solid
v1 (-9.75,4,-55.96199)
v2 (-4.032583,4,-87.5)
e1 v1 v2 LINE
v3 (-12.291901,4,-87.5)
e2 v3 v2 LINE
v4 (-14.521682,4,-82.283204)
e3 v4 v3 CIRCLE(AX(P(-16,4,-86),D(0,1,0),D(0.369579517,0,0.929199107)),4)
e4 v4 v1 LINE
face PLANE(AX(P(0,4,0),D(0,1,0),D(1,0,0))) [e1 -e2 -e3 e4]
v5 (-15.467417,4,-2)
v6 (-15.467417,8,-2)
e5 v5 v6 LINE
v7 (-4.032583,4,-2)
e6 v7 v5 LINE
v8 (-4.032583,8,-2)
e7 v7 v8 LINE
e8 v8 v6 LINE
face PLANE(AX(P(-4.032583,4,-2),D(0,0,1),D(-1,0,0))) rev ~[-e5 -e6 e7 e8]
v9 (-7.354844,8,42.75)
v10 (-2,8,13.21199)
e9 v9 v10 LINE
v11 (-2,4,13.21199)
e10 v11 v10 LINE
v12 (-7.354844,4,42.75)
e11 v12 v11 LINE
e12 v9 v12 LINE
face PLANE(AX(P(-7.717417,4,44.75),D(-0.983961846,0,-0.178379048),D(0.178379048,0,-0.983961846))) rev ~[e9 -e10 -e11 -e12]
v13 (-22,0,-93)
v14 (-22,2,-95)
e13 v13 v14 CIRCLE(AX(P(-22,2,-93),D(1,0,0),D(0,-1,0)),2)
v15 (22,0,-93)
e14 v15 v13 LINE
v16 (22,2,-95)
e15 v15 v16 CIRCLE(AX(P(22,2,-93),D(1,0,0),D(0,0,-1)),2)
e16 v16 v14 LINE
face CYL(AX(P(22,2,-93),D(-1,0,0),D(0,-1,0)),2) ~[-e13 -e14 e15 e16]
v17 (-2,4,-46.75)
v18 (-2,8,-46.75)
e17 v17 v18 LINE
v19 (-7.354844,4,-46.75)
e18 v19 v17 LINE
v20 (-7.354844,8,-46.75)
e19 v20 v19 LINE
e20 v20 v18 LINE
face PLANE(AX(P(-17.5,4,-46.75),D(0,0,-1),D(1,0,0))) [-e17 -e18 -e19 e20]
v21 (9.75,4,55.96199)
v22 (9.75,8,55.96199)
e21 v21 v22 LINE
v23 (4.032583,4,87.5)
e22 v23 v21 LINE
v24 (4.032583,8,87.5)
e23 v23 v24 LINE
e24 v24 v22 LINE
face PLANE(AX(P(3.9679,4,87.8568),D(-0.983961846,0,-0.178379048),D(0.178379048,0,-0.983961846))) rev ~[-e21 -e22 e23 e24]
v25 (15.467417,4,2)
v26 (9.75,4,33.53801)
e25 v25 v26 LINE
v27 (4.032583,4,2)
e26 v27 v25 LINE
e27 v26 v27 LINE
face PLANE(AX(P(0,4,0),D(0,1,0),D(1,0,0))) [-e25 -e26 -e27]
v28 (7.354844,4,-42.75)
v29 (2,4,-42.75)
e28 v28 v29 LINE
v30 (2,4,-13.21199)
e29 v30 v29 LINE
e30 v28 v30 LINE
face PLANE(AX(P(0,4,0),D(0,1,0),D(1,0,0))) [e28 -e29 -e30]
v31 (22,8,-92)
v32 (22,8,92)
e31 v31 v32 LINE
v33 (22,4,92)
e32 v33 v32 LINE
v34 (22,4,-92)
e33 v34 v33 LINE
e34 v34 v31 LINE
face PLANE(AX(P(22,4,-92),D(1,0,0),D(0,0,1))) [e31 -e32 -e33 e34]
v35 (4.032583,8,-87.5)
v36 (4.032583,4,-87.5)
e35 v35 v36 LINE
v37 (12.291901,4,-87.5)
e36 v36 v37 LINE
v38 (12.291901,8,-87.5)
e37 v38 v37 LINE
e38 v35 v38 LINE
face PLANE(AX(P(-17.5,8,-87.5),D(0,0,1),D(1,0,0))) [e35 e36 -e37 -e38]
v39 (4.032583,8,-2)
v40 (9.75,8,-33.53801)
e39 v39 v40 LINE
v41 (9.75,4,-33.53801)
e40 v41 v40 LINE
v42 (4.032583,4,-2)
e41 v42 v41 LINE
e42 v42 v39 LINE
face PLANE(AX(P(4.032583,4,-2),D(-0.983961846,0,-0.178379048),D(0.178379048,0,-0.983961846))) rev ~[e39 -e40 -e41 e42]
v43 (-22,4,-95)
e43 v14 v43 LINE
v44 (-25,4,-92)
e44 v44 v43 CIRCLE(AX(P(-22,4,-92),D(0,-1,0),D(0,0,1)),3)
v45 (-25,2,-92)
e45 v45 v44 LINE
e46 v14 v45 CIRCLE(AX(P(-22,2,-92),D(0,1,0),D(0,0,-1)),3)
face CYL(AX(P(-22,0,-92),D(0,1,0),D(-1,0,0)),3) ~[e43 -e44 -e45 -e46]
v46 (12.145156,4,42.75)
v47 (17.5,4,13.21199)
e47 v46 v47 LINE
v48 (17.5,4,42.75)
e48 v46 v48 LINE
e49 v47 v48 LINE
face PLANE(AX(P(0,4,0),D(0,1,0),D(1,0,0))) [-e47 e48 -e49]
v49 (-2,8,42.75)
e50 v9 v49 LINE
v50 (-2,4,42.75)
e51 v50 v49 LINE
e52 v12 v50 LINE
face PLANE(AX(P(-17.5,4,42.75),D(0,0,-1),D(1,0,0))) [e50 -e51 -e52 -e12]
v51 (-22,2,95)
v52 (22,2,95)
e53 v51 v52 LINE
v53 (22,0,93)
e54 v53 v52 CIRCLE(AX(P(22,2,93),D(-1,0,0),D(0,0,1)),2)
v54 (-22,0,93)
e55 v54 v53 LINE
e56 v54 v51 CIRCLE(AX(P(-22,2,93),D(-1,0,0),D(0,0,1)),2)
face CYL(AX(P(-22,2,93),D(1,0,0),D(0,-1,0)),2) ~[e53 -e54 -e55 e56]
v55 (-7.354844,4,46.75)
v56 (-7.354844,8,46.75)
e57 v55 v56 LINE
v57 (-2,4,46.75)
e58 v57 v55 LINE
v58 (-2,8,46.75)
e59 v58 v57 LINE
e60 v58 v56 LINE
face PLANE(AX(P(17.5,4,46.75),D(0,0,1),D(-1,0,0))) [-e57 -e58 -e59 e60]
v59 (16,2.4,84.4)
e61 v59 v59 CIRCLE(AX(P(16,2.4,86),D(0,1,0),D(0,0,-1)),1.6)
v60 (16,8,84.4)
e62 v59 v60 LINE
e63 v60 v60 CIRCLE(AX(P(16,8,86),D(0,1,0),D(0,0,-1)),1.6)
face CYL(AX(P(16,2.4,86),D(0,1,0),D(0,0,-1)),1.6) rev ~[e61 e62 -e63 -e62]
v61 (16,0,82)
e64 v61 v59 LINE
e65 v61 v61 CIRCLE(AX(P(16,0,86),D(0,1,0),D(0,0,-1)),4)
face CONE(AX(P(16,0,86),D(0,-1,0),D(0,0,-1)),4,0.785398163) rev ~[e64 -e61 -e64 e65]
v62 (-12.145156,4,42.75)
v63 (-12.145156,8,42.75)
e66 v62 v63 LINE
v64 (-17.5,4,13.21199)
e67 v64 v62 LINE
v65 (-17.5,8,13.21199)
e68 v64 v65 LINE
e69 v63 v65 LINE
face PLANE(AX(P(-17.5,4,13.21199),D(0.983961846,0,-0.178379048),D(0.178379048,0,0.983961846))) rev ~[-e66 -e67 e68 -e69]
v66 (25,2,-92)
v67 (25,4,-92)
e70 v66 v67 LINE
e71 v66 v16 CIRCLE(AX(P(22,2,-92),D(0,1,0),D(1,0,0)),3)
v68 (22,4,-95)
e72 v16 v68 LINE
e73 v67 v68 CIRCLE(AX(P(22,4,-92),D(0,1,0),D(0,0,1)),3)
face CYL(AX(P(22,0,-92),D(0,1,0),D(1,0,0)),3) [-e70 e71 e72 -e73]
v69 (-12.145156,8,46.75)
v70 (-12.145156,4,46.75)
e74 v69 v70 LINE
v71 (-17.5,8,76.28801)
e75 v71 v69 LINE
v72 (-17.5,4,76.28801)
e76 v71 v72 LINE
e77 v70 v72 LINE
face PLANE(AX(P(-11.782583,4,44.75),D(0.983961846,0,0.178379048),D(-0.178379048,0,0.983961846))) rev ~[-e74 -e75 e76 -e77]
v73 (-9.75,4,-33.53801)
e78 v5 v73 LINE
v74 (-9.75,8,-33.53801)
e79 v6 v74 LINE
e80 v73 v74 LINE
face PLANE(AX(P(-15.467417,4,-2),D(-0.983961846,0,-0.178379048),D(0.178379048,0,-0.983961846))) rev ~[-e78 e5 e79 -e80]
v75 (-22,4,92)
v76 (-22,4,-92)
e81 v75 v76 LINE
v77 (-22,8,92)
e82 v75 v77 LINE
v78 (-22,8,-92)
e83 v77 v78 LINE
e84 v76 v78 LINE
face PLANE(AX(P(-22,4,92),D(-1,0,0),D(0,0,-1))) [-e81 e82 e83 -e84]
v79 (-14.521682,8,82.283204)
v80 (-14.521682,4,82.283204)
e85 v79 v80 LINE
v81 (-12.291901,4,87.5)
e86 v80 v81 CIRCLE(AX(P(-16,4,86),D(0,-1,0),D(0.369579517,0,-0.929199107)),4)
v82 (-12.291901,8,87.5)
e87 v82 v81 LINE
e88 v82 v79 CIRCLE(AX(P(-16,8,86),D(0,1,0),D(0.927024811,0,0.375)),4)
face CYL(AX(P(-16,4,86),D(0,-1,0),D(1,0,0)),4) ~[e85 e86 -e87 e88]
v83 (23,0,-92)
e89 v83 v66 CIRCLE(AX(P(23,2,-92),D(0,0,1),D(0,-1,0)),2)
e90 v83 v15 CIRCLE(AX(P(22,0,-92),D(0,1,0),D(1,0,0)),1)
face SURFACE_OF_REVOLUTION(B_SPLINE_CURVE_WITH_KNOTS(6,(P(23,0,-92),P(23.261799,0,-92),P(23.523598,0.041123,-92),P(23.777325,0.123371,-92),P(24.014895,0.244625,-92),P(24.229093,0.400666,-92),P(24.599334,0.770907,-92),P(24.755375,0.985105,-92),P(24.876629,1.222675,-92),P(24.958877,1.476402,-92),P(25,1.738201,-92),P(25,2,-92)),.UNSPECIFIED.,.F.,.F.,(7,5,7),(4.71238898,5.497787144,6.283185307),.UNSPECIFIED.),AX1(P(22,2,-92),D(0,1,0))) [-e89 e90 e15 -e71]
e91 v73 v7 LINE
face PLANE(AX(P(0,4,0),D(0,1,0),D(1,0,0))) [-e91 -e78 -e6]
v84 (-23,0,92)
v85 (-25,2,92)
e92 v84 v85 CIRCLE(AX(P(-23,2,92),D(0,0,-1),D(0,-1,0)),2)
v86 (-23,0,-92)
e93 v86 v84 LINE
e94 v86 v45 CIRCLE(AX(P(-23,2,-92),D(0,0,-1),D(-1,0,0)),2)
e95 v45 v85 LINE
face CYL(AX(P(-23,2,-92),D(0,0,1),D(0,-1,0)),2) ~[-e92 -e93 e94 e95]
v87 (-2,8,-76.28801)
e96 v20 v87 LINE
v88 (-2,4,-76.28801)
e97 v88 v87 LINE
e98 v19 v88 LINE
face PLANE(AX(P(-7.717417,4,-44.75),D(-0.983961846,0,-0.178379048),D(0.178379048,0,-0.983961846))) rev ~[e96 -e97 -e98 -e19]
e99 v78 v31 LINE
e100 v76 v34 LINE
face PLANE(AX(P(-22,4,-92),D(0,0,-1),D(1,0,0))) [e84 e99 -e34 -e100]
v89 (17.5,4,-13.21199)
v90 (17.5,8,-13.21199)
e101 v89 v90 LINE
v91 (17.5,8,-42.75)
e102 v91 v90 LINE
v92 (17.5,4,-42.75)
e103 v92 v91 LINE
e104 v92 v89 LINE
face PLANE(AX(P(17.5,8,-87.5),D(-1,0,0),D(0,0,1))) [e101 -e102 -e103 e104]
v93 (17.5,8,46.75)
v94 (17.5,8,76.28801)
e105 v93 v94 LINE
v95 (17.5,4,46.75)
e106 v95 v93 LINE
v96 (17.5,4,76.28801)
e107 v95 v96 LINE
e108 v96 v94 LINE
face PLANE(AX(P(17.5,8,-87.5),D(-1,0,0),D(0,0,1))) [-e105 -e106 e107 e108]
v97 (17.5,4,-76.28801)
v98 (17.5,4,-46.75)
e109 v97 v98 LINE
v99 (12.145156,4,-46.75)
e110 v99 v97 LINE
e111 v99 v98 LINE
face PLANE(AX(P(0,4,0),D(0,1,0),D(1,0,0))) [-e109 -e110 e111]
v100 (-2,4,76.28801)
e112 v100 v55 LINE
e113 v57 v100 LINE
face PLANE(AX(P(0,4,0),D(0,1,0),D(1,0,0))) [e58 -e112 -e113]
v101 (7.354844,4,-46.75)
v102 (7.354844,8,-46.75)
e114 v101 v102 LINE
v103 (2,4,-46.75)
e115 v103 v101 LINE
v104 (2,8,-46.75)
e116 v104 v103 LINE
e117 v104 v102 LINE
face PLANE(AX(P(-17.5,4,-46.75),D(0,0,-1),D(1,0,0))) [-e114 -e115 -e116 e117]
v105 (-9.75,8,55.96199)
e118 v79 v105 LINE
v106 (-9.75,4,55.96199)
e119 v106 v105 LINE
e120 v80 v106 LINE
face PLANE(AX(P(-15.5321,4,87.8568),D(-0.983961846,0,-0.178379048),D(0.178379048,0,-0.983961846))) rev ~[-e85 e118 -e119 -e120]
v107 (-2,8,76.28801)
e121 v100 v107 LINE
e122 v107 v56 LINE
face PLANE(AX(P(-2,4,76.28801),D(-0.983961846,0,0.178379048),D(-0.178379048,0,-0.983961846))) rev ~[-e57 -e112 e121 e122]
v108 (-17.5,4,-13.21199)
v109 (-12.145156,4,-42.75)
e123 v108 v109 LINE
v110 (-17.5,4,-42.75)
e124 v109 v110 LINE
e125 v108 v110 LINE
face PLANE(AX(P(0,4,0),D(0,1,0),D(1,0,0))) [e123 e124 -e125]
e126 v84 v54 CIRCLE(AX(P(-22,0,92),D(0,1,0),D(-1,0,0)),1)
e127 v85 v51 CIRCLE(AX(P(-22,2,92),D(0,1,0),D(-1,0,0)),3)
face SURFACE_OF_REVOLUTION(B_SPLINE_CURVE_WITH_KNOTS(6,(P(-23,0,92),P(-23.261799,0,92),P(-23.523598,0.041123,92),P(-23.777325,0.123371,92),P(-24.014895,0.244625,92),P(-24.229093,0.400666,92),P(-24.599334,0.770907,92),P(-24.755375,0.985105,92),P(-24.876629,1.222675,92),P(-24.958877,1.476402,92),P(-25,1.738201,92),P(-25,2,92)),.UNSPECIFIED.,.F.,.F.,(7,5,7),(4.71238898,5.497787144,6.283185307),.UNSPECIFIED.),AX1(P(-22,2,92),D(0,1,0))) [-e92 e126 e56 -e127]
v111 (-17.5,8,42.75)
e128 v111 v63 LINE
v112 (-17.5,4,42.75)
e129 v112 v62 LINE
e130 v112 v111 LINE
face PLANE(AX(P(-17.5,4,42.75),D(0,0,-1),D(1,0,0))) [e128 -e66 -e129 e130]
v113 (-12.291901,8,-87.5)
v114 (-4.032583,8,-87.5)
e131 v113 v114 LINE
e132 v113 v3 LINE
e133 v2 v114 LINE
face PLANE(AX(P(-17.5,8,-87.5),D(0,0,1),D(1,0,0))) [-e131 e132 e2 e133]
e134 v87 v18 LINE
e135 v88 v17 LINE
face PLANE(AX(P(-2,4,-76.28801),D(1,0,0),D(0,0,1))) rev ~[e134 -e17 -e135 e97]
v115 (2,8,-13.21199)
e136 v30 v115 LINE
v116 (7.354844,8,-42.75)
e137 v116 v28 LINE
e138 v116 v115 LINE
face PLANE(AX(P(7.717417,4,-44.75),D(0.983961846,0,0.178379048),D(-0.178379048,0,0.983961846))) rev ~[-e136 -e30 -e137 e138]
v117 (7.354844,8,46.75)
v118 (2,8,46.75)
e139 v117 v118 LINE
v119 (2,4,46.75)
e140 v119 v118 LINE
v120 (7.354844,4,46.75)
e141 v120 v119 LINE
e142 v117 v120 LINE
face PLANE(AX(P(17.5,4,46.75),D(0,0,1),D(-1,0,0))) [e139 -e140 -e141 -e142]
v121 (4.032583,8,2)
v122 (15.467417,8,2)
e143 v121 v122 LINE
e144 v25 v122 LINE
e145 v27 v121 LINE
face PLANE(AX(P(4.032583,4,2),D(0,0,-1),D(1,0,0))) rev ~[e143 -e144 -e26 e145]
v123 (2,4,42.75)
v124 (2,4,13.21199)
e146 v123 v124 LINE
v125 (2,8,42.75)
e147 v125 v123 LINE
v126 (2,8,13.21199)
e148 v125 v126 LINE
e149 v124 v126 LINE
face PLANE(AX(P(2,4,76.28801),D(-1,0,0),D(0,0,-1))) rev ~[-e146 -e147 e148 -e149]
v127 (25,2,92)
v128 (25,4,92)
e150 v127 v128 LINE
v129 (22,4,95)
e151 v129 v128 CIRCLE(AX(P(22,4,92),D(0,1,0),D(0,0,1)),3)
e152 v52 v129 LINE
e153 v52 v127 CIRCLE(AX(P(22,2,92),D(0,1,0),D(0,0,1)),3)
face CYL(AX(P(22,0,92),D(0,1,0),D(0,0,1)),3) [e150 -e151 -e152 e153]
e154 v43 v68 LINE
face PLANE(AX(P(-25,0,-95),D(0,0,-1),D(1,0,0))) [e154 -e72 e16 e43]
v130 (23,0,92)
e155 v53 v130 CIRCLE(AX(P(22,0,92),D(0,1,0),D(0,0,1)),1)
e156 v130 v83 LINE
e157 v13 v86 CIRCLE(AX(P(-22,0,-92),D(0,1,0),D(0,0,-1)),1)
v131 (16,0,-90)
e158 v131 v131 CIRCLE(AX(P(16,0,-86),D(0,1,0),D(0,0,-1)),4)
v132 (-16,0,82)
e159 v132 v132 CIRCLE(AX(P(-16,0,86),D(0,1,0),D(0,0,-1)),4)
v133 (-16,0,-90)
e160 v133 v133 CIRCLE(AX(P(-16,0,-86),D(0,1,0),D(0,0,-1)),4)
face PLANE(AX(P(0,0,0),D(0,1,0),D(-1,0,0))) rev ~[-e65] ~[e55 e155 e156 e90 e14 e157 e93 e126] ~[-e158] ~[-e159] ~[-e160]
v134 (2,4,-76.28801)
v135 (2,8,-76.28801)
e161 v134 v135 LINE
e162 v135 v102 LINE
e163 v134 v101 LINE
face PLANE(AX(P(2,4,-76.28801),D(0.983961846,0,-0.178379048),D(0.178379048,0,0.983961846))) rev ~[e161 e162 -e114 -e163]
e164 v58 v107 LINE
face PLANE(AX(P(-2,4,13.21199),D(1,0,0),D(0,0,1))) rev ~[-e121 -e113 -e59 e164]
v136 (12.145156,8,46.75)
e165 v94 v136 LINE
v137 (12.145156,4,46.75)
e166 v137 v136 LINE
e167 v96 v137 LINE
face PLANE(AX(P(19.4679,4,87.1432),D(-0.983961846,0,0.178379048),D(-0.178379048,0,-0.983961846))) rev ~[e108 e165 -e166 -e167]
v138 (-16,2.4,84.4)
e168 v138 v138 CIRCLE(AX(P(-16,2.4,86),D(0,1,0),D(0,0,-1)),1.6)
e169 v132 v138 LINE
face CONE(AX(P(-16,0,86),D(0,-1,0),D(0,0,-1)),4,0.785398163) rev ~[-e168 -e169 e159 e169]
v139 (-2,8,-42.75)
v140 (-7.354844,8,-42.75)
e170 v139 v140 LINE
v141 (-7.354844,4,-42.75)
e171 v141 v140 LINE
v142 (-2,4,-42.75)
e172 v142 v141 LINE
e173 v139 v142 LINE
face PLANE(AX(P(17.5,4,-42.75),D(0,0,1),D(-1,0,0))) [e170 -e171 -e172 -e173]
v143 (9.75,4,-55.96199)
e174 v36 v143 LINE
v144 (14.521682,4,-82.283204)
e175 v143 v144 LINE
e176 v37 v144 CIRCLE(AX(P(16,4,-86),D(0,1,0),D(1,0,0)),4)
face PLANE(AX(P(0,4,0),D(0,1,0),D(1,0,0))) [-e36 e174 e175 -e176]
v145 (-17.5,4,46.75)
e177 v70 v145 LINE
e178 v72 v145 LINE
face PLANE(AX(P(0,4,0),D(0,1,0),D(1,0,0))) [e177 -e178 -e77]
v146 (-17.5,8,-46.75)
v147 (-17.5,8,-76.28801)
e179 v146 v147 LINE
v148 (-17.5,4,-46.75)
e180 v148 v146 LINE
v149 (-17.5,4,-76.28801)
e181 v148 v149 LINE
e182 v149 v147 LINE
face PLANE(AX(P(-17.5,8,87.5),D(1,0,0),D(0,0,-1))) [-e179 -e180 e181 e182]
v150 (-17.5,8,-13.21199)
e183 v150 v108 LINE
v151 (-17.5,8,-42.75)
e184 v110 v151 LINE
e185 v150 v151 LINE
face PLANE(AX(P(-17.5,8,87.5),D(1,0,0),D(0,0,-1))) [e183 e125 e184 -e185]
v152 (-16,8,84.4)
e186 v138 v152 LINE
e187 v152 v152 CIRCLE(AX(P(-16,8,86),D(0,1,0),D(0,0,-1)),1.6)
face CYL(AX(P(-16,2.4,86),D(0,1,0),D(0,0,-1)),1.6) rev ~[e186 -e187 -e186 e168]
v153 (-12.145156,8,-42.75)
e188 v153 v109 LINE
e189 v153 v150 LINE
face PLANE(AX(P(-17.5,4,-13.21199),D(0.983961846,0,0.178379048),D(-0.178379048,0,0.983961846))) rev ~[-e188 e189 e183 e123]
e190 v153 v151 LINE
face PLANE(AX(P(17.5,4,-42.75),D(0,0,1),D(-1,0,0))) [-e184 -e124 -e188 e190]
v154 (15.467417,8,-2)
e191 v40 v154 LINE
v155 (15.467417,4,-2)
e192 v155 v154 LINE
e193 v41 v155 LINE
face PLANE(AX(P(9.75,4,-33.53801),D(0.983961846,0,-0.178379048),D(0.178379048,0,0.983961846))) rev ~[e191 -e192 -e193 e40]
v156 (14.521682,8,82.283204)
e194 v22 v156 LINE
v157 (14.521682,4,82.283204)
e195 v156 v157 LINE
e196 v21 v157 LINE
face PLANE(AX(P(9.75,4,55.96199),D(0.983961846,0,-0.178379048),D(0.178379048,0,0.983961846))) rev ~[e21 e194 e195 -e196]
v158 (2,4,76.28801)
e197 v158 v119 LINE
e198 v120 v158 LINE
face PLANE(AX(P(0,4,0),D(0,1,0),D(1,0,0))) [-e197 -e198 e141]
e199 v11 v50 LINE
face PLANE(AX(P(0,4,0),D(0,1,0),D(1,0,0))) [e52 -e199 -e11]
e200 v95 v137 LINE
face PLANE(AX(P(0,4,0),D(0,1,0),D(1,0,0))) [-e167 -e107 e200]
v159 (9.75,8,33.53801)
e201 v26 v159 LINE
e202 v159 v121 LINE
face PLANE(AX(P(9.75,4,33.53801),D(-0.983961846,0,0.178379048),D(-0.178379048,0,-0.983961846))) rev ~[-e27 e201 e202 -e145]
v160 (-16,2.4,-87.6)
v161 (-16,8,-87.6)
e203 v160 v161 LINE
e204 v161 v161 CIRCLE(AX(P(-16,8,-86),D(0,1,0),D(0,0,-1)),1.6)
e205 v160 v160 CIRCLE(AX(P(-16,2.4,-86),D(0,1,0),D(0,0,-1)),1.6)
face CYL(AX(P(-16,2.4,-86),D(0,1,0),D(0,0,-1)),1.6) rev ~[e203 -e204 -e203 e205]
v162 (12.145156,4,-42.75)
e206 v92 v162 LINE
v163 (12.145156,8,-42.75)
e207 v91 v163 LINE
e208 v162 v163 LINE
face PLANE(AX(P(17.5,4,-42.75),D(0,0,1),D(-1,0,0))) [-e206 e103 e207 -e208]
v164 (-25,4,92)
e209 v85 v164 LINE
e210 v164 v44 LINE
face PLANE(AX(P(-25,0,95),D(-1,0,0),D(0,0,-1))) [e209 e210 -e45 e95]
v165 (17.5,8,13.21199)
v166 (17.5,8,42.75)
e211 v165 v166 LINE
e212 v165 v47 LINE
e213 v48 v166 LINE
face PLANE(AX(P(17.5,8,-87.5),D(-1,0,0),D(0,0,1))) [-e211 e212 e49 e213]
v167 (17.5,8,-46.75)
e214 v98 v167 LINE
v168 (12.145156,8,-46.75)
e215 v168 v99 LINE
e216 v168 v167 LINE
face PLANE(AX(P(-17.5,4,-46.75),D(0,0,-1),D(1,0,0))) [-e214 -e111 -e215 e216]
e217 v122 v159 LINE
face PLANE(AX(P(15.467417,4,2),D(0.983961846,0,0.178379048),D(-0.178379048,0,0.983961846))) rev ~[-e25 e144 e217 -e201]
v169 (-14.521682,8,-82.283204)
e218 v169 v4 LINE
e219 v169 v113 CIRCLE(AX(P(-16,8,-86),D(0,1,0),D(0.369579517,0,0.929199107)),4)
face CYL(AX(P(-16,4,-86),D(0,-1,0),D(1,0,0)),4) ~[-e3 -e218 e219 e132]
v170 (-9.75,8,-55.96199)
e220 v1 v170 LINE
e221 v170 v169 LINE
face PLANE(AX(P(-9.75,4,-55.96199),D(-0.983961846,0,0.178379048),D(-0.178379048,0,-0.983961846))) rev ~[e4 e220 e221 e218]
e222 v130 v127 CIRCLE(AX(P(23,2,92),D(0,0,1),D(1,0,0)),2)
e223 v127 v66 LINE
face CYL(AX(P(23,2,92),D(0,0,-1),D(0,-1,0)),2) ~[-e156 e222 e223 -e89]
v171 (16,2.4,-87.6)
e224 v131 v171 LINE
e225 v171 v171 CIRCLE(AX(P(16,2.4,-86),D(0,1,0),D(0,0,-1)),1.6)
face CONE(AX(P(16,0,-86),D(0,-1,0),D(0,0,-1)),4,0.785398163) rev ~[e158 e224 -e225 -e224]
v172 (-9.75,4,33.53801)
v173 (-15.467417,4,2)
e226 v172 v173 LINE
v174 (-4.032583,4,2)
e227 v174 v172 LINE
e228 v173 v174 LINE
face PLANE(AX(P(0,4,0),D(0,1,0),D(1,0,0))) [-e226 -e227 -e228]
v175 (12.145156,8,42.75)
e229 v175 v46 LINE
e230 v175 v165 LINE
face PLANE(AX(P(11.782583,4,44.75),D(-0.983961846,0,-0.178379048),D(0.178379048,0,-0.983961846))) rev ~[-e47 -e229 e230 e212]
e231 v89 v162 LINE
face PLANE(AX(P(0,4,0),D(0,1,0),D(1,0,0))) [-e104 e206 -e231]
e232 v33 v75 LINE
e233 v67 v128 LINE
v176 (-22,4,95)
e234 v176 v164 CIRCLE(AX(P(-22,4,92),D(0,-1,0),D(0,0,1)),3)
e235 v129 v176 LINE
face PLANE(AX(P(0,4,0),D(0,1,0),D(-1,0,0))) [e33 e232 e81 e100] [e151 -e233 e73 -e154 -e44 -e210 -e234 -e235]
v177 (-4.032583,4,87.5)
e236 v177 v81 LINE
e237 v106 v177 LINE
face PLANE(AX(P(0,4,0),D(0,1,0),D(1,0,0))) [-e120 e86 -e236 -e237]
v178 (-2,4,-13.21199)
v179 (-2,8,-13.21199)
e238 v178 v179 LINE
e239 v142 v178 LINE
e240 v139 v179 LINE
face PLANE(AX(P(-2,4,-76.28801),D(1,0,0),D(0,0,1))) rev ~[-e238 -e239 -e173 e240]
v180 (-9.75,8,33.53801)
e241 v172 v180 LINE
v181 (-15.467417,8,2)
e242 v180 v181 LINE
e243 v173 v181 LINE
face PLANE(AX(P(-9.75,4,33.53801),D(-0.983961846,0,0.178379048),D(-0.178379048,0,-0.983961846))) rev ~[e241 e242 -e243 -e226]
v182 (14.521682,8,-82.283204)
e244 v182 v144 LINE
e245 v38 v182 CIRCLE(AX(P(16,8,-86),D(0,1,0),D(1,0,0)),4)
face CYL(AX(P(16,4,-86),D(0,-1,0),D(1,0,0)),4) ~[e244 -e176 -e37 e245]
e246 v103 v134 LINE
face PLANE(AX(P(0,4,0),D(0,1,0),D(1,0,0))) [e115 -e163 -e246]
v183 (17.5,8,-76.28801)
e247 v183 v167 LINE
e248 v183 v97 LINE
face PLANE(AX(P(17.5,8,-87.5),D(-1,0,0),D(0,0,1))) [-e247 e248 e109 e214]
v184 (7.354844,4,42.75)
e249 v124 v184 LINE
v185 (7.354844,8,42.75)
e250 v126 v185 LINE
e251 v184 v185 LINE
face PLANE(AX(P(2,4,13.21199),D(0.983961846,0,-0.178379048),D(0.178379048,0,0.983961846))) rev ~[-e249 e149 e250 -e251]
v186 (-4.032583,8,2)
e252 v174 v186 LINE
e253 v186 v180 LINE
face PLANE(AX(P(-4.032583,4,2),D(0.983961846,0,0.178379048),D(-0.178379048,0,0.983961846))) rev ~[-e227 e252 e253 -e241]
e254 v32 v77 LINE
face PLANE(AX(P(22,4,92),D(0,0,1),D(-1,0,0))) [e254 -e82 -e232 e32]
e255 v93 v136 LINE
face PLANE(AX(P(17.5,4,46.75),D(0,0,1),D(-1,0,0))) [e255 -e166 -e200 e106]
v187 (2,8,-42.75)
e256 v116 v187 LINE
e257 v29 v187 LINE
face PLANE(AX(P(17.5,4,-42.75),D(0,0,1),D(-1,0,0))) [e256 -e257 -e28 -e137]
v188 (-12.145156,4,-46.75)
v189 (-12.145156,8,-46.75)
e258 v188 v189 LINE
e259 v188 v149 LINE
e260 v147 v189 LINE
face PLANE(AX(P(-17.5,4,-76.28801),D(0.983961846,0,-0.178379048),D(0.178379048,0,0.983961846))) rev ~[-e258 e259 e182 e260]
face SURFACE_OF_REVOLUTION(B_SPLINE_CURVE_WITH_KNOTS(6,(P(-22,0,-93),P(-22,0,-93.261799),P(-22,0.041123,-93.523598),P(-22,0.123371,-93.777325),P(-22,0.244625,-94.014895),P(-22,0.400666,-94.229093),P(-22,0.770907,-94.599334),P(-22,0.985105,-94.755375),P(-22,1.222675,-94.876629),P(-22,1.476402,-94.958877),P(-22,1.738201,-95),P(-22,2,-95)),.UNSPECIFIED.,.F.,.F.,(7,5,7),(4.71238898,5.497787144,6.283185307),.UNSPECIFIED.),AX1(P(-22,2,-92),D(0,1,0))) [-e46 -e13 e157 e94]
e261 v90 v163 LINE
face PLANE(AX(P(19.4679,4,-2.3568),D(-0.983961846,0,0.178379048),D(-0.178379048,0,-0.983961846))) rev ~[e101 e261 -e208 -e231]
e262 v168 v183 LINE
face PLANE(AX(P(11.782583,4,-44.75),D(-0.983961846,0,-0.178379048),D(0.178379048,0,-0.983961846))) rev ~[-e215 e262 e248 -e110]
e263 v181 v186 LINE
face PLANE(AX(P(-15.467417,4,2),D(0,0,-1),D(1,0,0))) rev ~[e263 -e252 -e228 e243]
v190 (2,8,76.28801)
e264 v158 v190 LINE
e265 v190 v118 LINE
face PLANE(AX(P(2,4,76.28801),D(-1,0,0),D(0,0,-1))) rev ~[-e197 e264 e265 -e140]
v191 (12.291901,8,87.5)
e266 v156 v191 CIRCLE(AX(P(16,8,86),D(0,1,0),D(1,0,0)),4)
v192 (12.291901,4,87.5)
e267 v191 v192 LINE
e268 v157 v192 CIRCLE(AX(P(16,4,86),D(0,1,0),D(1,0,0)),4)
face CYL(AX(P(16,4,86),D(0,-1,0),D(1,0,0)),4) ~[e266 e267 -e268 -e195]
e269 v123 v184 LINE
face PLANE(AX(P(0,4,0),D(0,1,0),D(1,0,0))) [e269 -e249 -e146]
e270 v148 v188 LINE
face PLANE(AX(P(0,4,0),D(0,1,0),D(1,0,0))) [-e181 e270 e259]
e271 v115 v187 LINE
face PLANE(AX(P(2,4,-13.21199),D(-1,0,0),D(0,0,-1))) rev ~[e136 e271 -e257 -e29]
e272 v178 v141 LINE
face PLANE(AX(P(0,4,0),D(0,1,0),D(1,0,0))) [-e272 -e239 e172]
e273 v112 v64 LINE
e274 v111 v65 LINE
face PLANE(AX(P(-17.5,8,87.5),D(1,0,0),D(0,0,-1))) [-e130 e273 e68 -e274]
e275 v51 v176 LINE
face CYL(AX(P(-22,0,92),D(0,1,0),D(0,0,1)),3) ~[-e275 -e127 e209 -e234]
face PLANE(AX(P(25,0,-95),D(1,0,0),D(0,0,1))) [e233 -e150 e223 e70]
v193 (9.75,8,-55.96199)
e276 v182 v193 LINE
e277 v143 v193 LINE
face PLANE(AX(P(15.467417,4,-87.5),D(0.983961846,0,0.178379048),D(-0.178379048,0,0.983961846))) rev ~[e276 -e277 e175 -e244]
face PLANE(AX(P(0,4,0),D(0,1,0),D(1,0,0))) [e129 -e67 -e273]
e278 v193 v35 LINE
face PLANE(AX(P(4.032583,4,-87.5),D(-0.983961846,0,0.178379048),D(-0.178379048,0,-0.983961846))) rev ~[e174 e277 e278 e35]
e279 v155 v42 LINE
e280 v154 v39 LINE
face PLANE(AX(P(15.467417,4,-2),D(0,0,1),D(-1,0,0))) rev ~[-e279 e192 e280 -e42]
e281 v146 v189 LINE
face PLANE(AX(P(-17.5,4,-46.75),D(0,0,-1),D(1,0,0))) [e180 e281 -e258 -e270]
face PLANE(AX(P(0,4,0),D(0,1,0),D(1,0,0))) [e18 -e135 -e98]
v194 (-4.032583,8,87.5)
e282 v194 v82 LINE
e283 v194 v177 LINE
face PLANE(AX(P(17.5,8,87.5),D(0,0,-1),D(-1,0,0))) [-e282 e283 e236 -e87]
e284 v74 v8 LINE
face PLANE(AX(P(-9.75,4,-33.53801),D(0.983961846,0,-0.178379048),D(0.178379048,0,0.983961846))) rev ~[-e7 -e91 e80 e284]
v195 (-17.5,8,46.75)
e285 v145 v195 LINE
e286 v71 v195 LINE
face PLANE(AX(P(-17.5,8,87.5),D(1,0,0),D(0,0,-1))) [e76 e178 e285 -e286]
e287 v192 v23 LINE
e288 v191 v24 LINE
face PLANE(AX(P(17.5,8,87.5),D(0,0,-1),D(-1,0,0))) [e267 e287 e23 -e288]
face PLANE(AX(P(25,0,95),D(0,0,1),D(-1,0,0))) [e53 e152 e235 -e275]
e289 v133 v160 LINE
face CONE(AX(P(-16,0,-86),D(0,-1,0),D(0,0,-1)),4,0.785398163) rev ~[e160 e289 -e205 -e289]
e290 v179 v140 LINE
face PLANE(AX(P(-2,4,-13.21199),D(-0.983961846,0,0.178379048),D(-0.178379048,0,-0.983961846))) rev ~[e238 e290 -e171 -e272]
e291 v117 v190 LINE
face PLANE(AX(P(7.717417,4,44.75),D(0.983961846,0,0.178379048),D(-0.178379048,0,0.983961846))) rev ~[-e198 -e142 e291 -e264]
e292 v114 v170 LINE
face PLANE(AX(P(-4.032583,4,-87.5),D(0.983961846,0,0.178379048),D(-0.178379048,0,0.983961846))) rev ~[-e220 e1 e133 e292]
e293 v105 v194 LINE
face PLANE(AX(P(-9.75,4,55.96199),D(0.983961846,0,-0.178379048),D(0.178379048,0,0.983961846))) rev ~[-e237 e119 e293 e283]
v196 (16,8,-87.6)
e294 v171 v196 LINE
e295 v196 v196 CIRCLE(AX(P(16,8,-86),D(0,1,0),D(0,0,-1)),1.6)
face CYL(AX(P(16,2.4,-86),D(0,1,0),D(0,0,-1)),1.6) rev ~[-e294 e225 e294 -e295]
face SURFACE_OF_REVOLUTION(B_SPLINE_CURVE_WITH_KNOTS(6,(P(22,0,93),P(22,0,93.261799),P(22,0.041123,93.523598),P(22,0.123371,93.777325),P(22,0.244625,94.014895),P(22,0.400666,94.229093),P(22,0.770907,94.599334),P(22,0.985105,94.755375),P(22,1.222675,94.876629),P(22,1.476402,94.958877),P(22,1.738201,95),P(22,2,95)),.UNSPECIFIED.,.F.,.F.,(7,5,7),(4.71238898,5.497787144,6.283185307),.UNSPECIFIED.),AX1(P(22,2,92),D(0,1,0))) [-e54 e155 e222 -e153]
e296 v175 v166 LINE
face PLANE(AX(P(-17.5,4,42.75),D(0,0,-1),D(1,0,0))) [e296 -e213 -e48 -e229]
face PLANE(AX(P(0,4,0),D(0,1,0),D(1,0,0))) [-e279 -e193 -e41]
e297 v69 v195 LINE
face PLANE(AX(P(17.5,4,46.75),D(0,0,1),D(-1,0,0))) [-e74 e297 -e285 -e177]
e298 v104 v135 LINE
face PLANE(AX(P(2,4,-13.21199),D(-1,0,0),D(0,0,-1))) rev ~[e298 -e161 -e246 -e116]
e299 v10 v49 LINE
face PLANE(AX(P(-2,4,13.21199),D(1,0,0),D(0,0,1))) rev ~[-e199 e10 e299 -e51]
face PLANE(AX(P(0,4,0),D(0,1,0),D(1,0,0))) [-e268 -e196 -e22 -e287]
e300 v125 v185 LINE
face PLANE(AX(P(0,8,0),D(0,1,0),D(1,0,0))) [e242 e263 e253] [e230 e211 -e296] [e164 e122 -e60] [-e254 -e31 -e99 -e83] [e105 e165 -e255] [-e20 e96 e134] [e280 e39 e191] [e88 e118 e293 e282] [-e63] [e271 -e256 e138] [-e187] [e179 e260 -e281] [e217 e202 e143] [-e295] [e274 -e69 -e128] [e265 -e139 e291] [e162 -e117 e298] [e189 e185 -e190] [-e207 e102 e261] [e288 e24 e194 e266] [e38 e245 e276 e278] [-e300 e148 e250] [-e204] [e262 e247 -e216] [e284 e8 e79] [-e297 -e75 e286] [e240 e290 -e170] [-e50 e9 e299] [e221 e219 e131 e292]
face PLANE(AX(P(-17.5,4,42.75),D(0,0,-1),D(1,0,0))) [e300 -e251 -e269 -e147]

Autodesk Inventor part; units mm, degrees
ref_plane "YZ Plane" through (0, 0, 0) normal (1, 0, 0) x (0, 1, 0)
ref_plane "XZ Plane" through (0, 0, 0) normal (0, 1, 0) x (-1, 0, 0)
ref_plane "XY Plane" through (0, 0, 0) normal (0, 0, 1) x (1, 0, 0)
sketch "Эскиз1" plane through (0, 0, 0) normal (0, 1, 0) x (-1, 0, 0)
  line L0 (-20, 90) -> (20, 90)
  line L1 (20, 90) -> (20, -90)
  line L2 (20, -90) -> (-20, -90)
  line L3 (-20, -90) -> (-20, 90)
  line L4 (-20, 90) -> (20, -90) construction
  line L5 (20, 90) -> (-20, -90) construction
  line L6 (16, -86) -> (-16, -86)
  line L7 (-16, -86) -> (-16, 86)
  line L8 (-16, 86) -> (16, 86)
  line L9 (16, 86) -> (16, -86)
  line L10 (16, -86) -> (-16, 86) construction
  line L11 (-16, -86) -> (16, 86) construction
  line L12 (-11, 74) -> (11, 74)
  line L13 (11, 74) -> (11, -74)
  line L14 (11, -74) -> (-11, -74)
  line L15 (-11, -74) -> (-11, 74)
  line L16 (-11, 74) -> (11, -74) construction
  line L17 (11, 74) -> (-11, -74) construction
  circle A0 centre (16, 86) radius 1.6
  line L18 (17.7, 80.7) -> (-17.7, 80.7)
  line L19 (-17.7, 80.7) -> (-17.7, -80.7)
  line L20 (-17.7, -80.7) -> (17.7, -80.7)
  line L21 (17.7, -80.7) -> (17.7, 80.7)
  line L22 (17.7, 80.7) -> (-17.7, -80.7) construction
  line L23 (-17.7, 80.7) -> (17.7, -80.7) construction
  line L24 (-8.89, -88.5) -> (8.89, -88.5)
  line L25 (8.89, -88.5) -> (8.89, -83.5)
  line L26 (8.89, -83.5) -> (-8.89, -83.5)
  line L27 (-8.89, -83.5) -> (-8.89, -88.5)
  line L28 (-8.89, -88.5) -> (8.89, -83.5) construction
  line L29 (8.89, -88.5) -> (-8.89, -83.5) construction
  point P0 (0, 0)
  point P1 (0, -86)
  dimension "d0" = 40
  dimension "d1" = 180
  dimension "d2" = 32
  dimension "d3" = 172
  dimension "d4" = 22
  dimension "d5" = 148
  dimension "d6" = 3.2
  dimension "d7" = 35.4
  dimension "d8" = 161.4
  dimension "d21" = 17.78
  dimension "d22" = 5
sketch "Эскиз17" plane through (0, 0, 0) normal (0, 1, 0) x (-1, 0, 0)
  line L0 (-25, 95) -> (25, 95)
  line L1 (25, 95) -> (25, -95)
  line L2 (25, -95) -> (-25, -95)
  line L3 (-25, -95) -> (-25, 95)
  line L4 (-25, 95) -> (25, -95) construction
  line L5 (25, 95) -> (-25, -95) construction
  point P0 (0, 0)
  dimension "d92" = 50
  dimension "d93" = 190
extrude "Выдавливание17" add sketch "Эскиз17" along normal blind 4
sketch "Эскиз18" plane through (0, 4, 0) normal (0, 1, 0) x (1, 0, 0)
  line L0 (22, -92) -> (-22, -92)
  line L1 (-22, -92) -> (-22, 92)
  line L2 (-22, 92) -> (22, 92)
  line L3 (22, 92) -> (22, -92)
  line L4 (22, -92) -> (-22, 92) construction
  line L5 (-22, -92) -> (22, 92) construction
  point P0 (0, 0)
  dimension "d96" = 44
  dimension "d97" = 184
extrude "Выдавливание18" add sketch "Эскиз18" along normal blind 4
sketch "Эскиз19" plane through (0, 8, 0) normal (0, 1, 0) x (1, 0, 0)
  line L0 (17.5, -87.5) -> (-17.5, -87.5)
  line L1 (-17.5, -87.5) -> (-17.5, 87.5)
  line L2 (-17.5, 87.5) -> (17.5, 87.5)
  line L3 (17.5, 87.5) -> (17.5, -87.5)
  line L4 (17.5, -87.5) -> (-17.5, 87.5) construction
  line L5 (-17.5, -87.5) -> (17.5, 87.5) construction
  point P0 (0, 0)
  dimension "d100" = 35
  dimension "d101" = 175
extrude "Выдавливание19" cut sketch "Эскиз19" against normal blind 4
sketch "Эскиз20" plane through (0, 0, 0) normal (0, -1, 0) x (1, 0, 0)
  point P0 (0, 0)
  point P1 (16, 86)
  point P2 (-16, 86)
  point P3 (-16, -86)
  point P4 (16, -86)
sketch "Эскиз21" plane through (0, 4, 0) normal (0, 1, 0) x (1, 0, 0)
  circle A0 centre (-16, -86) radius 4
  circle A1 centre (16, -86) radius 4
  circle A2 centre (16, 86) radius 4
  circle A3 centre (-16, 86) radius 4
  point P0 (0, 0)
  dimension "d104" = 8
  dimension "d105" = 8
sketch "Эскиз22" plane through (0, 4, 0) normal (0, 1, 0) x (1, 0, 0)
  line L0 (-17.5, -87.5) -> (-17.5, 87.5) projected
  line L1 (17.5, 2) -> (-17.5, 2)
  line L2 (-17.5, 2) -> (-17.5, -2)
  line L3 (-17.5, -2) -> (17.5, -2)
  line L4 (17.5, -2) -> (17.5, 2)
  line L5 (17.5, 2) -> (-17.5, -2) construction
  line L6 (-17.5, 2) -> (17.5, -2) construction
  line L7 (-17.5, 87.5) -> (17.5, 87.5) projected
  line L8 (-2, -87.5) -> (2, -87.5)
  line L9 (2, -87.5) -> (2, 87.5)
  line L10 (2, 87.5) -> (-2, 87.5)
  line L11 (-2, 87.5) -> (-2, -87.5)
  line L12 (-2, -87.5) -> (2, 87.5) construction
  line L13 (2, -87.5) -> (-2, 87.5) construction
  line L14 (-17.5, 2) -> (-2, 87.5) construction
  line L15 (-15.5321, 1.6432) -> (-0.0321, 87.1432)
  line L16 (-3.9679, 87.8568) -> (-19.4679, 2.3568)
  arc A0 (-19.4679, 2.3568) -> (-15.5321, 1.6432) centre (-17.5, 2) ccw
  arc A1 (-0.0321, 87.1432) -> (-3.9679, 87.8568) centre (-2, 87.5) ccw
  line L17 (-17.5, 87.5) -> (-2, 2) construction
  line L18 (-19.4679, 87.1432) -> (-3.9679, 1.6432)
  line L19 (-0.0321, 2.3568) -> (-15.5321, 87.8568)
  arc A2 (-15.5321, 87.8568) -> (-19.4679, 87.1432) centre (-17.5, 87.5) ccw
  arc A3 (-3.9679, 1.6432) -> (-0.0321, 2.3568) centre (-2, 2) ccw
  line L20 (2, 2) -> (17.5, 87.5) construction
  line L21 (3.9679, 1.6432) -> (19.4679, 87.1432)
  line L22 (15.5321, 87.8568) -> (0.0321, 2.3568)
  arc A4 (0.0321, 2.3568) -> (3.9679, 1.6432) centre (2, 2) ccw
  arc A5 (19.4679, 87.1432) -> (15.5321, 87.8568) centre (17.5, 87.5) ccw
  line L23 (17.5, 2) -> (2, 87.5) construction
  line L24 (19.4679, 2.3568) -> (3.9679, 87.8568)
  line L25 (0.0321, 87.1432) -> (15.5321, 1.6432)
  arc A6 (15.5321, 1.6432) -> (19.4679, 2.3568) centre (17.5, 2) ccw
  arc A7 (3.9679, 87.8568) -> (0.0321, 87.1432) centre (2, 87.5) ccw
  line L26 (17.5, -87.5) -> (2, -2) construction
  line L27 (19.4679, -87.1432) -> (3.9679, -1.6432)
  line L28 (0.0321, -2.3568) -> (15.5321, -87.8568)
  arc A8 (15.5321, -87.8568) -> (19.4679, -87.1432) centre (17.5, -87.5) ccw
  arc A9 (3.9679, -1.6432) -> (0.0321, -2.3568) centre (2, -2) ccw
  line L29 (-17.5, -87.5) -> (-2, -2) construction
  line L30 (-15.5321, -87.8568) -> (-0.0321, -2.3568)
  line L31 (-3.9679, -1.6432) -> (-19.4679, -87.1432)
  arc A10 (-19.4679, -87.1432) -> (-15.5321, -87.8568) centre (-17.5, -87.5) ccw
  arc A11 (-0.0321, -2.3568) -> (-3.9679, -1.6432) centre (-2, -2) ccw
  line L32 (-17.5, -2) -> (-2, -87.5) construction
  line L33 (-19.4679, -2.3568) -> (-3.9679, -87.8568)
  line L34 (-0.0321, -87.1432) -> (-15.5321, -1.6432)
  arc A12 (-15.5321, -1.6432) -> (-19.4679, -2.3568) centre (-17.5, -2) ccw
  arc A13 (-3.9679, -87.8568) -> (-0.0321, -87.1432) centre (-2, -87.5) ccw
  line L35 (17.5, -2) -> (2, -87.5) construction
  line L36 (15.5321, -1.6432) -> (0.0321, -87.1432)
  line L37 (3.9679, -87.8568) -> (19.4679, -2.3568)
  arc A14 (19.4679, -2.3568) -> (15.5321, -1.6432) centre (17.5, -2) ccw
  arc A15 (0.0321, -87.1432) -> (3.9679, -87.8568) centre (2, -87.5) ccw
  point P0 (0, 0)
  point P1 (-9.75, 44.75)
  point P2 (-9.75, 44.75)
  point P3 (9.75, 44.75)
  point P4 (9.75, 44.75)
  point P5 (9.75, -44.75)
  point P6 (-9.75, -44.75)
  point P7 (-9.75, -44.75)
  point P8 (9.75, -44.75)
  dimension "d106" = 4
  dimension "d107" = 4
  dimension "d108" = 4
  dimension "d109" = 4
  dimension "d110" = 4
  dimension "d111" = 4
  dimension "d112" = 4
  dimension "d113" = 4
extrude "Выдавливание20" add sketch "Эскиз22" along normal blind 4 contours L31 L33 L30 A10 | L33 A12 L0 | L0 L3 L34 L31 L33 | L31 L34 L30 L33 | L0 A12 L34 L3 | L31 L3 L11 L30 L34 | L30 L34 L11 L8 A13 L33 | A0 L16 L0 | L0 L1 L15 A0 | A0 L15 L1 L18 A3 A11 L31 L3 L34 A12 | L31 A11 L11 L3 | L0 L16 L18 L15 L1 | L11 A11 L3 | L3 A11 L30 L11 | L30 A11 A9 L28 L9 L36 A15 A13 L34 L11 | L34 A13 L8 L11 | A15 L36 L9 L8 | L8 L9 L36 L28 L37 A15 | A9 L9 L3 | A11 A3 A4 A9 | L3 L9 L28 A9 | A3 L18 L1 L11 | L11 L1 A3 | L18 A2 L19 L7 L0 | L0 L7 L19 L16 L18 | L16 L19 L15 L18 | L18 L15 L19 L11 L1 | L9 A9 L27 L3 | L3 L27 L36 L28 L9 | A4 L1 L9 | L9 L1 L21 A4 | A4 L21 L1 L25 A6 A14 L36 L3 L27 A9 | L11 L19 A3 L1 | A4 L22 L9 L1 | A3 L19 L11 L15 A1 A7 L25 L9 L22 A4 | L37 L27 A8 L28 | L28 L36 L27 L37 | L16 L7 L11 L15 L19 | L9 L22 L25 L21 L1 | L27 L36 L3 L4 A14 L37 | L16 A1 L7 | L11 L7 A1 L15 | L36 A14 L4 L3 | L25 L21 L24 A6 L4 L1 | L1 L4 A6 L25 | L25 L22 L24 L21 | L25 A7 L7 L9 | L9 L7 L24 L22 L25 | A7 L24 L7 | L24 L22 A5 L21
extrude "Выдавливание21" add sketch "Эскиз21" along normal blind 4
hole "Отверстие1" at (16, 0, 86) at (-16, 0, 86) at (-16, 0, -86) at (16, 0, -86) direction (0, 1, 0) diameter 3.2 end through all countersink diameter 8 countersink angle 90
sketch "Эскиз23" plane through (0, 4, 0) normal (0, 1, 0) x (1, 0, 0)
  line L0 (17.5, 42.75) -> (-17.5, 42.75)
  line L1 (-17.5, 42.75) -> (-17.5, 46.75)
  line L2 (-17.5, 46.75) -> (17.5, 46.75)
  line L3 (17.5, 46.75) -> (17.5, 42.75)
  line L4 (17.5, 42.75) -> (-17.5, 46.75) construction
  line L5 (-17.5, 42.75) -> (17.5, 46.75) construction
  line L6 (-17.5, -42.75) -> (17.5, -42.75)
  line L7 (17.5, -42.75) -> (17.5, -46.75)
  line L8 (17.5, -46.75) -> (-17.5, -46.75)
  line L9 (-17.5, -46.75) -> (-17.5, -42.75)
  line L10 (-17.5, -42.75) -> (17.5, -46.75) construction
  line L11 (17.5, -42.75) -> (-17.5, -46.75) construction
  point P0 (0, 0)
  point P1 (0, 44.75)
  point P2 (0, -44.75)
  dimension "d125" = 35
  dimension "d126" = 4
  dimension "d127" = 35
  dimension "d128" = 4
extrude "Выдавливание22" add sketch "Эскиз23" along normal blind 4
fillet "Сопряжение6" radius 3 4 edges at (-25, 2, 95) (25, 2, 95) (25, 2, -95) (-25, 2, -95)
fillet "Сопряжение7" radius 2 8 edges at (24.1213, 0, 94.1213) (0, 0, 95) (-24.1213, 0, 94.1213) (-25, 0, 0) (-24.1213, 0, -94.1213) (0, 0, -95) (24.1213, 0, -94.1213) (25, 0, 0)
properties part number "ESP_DISP_BACK"
